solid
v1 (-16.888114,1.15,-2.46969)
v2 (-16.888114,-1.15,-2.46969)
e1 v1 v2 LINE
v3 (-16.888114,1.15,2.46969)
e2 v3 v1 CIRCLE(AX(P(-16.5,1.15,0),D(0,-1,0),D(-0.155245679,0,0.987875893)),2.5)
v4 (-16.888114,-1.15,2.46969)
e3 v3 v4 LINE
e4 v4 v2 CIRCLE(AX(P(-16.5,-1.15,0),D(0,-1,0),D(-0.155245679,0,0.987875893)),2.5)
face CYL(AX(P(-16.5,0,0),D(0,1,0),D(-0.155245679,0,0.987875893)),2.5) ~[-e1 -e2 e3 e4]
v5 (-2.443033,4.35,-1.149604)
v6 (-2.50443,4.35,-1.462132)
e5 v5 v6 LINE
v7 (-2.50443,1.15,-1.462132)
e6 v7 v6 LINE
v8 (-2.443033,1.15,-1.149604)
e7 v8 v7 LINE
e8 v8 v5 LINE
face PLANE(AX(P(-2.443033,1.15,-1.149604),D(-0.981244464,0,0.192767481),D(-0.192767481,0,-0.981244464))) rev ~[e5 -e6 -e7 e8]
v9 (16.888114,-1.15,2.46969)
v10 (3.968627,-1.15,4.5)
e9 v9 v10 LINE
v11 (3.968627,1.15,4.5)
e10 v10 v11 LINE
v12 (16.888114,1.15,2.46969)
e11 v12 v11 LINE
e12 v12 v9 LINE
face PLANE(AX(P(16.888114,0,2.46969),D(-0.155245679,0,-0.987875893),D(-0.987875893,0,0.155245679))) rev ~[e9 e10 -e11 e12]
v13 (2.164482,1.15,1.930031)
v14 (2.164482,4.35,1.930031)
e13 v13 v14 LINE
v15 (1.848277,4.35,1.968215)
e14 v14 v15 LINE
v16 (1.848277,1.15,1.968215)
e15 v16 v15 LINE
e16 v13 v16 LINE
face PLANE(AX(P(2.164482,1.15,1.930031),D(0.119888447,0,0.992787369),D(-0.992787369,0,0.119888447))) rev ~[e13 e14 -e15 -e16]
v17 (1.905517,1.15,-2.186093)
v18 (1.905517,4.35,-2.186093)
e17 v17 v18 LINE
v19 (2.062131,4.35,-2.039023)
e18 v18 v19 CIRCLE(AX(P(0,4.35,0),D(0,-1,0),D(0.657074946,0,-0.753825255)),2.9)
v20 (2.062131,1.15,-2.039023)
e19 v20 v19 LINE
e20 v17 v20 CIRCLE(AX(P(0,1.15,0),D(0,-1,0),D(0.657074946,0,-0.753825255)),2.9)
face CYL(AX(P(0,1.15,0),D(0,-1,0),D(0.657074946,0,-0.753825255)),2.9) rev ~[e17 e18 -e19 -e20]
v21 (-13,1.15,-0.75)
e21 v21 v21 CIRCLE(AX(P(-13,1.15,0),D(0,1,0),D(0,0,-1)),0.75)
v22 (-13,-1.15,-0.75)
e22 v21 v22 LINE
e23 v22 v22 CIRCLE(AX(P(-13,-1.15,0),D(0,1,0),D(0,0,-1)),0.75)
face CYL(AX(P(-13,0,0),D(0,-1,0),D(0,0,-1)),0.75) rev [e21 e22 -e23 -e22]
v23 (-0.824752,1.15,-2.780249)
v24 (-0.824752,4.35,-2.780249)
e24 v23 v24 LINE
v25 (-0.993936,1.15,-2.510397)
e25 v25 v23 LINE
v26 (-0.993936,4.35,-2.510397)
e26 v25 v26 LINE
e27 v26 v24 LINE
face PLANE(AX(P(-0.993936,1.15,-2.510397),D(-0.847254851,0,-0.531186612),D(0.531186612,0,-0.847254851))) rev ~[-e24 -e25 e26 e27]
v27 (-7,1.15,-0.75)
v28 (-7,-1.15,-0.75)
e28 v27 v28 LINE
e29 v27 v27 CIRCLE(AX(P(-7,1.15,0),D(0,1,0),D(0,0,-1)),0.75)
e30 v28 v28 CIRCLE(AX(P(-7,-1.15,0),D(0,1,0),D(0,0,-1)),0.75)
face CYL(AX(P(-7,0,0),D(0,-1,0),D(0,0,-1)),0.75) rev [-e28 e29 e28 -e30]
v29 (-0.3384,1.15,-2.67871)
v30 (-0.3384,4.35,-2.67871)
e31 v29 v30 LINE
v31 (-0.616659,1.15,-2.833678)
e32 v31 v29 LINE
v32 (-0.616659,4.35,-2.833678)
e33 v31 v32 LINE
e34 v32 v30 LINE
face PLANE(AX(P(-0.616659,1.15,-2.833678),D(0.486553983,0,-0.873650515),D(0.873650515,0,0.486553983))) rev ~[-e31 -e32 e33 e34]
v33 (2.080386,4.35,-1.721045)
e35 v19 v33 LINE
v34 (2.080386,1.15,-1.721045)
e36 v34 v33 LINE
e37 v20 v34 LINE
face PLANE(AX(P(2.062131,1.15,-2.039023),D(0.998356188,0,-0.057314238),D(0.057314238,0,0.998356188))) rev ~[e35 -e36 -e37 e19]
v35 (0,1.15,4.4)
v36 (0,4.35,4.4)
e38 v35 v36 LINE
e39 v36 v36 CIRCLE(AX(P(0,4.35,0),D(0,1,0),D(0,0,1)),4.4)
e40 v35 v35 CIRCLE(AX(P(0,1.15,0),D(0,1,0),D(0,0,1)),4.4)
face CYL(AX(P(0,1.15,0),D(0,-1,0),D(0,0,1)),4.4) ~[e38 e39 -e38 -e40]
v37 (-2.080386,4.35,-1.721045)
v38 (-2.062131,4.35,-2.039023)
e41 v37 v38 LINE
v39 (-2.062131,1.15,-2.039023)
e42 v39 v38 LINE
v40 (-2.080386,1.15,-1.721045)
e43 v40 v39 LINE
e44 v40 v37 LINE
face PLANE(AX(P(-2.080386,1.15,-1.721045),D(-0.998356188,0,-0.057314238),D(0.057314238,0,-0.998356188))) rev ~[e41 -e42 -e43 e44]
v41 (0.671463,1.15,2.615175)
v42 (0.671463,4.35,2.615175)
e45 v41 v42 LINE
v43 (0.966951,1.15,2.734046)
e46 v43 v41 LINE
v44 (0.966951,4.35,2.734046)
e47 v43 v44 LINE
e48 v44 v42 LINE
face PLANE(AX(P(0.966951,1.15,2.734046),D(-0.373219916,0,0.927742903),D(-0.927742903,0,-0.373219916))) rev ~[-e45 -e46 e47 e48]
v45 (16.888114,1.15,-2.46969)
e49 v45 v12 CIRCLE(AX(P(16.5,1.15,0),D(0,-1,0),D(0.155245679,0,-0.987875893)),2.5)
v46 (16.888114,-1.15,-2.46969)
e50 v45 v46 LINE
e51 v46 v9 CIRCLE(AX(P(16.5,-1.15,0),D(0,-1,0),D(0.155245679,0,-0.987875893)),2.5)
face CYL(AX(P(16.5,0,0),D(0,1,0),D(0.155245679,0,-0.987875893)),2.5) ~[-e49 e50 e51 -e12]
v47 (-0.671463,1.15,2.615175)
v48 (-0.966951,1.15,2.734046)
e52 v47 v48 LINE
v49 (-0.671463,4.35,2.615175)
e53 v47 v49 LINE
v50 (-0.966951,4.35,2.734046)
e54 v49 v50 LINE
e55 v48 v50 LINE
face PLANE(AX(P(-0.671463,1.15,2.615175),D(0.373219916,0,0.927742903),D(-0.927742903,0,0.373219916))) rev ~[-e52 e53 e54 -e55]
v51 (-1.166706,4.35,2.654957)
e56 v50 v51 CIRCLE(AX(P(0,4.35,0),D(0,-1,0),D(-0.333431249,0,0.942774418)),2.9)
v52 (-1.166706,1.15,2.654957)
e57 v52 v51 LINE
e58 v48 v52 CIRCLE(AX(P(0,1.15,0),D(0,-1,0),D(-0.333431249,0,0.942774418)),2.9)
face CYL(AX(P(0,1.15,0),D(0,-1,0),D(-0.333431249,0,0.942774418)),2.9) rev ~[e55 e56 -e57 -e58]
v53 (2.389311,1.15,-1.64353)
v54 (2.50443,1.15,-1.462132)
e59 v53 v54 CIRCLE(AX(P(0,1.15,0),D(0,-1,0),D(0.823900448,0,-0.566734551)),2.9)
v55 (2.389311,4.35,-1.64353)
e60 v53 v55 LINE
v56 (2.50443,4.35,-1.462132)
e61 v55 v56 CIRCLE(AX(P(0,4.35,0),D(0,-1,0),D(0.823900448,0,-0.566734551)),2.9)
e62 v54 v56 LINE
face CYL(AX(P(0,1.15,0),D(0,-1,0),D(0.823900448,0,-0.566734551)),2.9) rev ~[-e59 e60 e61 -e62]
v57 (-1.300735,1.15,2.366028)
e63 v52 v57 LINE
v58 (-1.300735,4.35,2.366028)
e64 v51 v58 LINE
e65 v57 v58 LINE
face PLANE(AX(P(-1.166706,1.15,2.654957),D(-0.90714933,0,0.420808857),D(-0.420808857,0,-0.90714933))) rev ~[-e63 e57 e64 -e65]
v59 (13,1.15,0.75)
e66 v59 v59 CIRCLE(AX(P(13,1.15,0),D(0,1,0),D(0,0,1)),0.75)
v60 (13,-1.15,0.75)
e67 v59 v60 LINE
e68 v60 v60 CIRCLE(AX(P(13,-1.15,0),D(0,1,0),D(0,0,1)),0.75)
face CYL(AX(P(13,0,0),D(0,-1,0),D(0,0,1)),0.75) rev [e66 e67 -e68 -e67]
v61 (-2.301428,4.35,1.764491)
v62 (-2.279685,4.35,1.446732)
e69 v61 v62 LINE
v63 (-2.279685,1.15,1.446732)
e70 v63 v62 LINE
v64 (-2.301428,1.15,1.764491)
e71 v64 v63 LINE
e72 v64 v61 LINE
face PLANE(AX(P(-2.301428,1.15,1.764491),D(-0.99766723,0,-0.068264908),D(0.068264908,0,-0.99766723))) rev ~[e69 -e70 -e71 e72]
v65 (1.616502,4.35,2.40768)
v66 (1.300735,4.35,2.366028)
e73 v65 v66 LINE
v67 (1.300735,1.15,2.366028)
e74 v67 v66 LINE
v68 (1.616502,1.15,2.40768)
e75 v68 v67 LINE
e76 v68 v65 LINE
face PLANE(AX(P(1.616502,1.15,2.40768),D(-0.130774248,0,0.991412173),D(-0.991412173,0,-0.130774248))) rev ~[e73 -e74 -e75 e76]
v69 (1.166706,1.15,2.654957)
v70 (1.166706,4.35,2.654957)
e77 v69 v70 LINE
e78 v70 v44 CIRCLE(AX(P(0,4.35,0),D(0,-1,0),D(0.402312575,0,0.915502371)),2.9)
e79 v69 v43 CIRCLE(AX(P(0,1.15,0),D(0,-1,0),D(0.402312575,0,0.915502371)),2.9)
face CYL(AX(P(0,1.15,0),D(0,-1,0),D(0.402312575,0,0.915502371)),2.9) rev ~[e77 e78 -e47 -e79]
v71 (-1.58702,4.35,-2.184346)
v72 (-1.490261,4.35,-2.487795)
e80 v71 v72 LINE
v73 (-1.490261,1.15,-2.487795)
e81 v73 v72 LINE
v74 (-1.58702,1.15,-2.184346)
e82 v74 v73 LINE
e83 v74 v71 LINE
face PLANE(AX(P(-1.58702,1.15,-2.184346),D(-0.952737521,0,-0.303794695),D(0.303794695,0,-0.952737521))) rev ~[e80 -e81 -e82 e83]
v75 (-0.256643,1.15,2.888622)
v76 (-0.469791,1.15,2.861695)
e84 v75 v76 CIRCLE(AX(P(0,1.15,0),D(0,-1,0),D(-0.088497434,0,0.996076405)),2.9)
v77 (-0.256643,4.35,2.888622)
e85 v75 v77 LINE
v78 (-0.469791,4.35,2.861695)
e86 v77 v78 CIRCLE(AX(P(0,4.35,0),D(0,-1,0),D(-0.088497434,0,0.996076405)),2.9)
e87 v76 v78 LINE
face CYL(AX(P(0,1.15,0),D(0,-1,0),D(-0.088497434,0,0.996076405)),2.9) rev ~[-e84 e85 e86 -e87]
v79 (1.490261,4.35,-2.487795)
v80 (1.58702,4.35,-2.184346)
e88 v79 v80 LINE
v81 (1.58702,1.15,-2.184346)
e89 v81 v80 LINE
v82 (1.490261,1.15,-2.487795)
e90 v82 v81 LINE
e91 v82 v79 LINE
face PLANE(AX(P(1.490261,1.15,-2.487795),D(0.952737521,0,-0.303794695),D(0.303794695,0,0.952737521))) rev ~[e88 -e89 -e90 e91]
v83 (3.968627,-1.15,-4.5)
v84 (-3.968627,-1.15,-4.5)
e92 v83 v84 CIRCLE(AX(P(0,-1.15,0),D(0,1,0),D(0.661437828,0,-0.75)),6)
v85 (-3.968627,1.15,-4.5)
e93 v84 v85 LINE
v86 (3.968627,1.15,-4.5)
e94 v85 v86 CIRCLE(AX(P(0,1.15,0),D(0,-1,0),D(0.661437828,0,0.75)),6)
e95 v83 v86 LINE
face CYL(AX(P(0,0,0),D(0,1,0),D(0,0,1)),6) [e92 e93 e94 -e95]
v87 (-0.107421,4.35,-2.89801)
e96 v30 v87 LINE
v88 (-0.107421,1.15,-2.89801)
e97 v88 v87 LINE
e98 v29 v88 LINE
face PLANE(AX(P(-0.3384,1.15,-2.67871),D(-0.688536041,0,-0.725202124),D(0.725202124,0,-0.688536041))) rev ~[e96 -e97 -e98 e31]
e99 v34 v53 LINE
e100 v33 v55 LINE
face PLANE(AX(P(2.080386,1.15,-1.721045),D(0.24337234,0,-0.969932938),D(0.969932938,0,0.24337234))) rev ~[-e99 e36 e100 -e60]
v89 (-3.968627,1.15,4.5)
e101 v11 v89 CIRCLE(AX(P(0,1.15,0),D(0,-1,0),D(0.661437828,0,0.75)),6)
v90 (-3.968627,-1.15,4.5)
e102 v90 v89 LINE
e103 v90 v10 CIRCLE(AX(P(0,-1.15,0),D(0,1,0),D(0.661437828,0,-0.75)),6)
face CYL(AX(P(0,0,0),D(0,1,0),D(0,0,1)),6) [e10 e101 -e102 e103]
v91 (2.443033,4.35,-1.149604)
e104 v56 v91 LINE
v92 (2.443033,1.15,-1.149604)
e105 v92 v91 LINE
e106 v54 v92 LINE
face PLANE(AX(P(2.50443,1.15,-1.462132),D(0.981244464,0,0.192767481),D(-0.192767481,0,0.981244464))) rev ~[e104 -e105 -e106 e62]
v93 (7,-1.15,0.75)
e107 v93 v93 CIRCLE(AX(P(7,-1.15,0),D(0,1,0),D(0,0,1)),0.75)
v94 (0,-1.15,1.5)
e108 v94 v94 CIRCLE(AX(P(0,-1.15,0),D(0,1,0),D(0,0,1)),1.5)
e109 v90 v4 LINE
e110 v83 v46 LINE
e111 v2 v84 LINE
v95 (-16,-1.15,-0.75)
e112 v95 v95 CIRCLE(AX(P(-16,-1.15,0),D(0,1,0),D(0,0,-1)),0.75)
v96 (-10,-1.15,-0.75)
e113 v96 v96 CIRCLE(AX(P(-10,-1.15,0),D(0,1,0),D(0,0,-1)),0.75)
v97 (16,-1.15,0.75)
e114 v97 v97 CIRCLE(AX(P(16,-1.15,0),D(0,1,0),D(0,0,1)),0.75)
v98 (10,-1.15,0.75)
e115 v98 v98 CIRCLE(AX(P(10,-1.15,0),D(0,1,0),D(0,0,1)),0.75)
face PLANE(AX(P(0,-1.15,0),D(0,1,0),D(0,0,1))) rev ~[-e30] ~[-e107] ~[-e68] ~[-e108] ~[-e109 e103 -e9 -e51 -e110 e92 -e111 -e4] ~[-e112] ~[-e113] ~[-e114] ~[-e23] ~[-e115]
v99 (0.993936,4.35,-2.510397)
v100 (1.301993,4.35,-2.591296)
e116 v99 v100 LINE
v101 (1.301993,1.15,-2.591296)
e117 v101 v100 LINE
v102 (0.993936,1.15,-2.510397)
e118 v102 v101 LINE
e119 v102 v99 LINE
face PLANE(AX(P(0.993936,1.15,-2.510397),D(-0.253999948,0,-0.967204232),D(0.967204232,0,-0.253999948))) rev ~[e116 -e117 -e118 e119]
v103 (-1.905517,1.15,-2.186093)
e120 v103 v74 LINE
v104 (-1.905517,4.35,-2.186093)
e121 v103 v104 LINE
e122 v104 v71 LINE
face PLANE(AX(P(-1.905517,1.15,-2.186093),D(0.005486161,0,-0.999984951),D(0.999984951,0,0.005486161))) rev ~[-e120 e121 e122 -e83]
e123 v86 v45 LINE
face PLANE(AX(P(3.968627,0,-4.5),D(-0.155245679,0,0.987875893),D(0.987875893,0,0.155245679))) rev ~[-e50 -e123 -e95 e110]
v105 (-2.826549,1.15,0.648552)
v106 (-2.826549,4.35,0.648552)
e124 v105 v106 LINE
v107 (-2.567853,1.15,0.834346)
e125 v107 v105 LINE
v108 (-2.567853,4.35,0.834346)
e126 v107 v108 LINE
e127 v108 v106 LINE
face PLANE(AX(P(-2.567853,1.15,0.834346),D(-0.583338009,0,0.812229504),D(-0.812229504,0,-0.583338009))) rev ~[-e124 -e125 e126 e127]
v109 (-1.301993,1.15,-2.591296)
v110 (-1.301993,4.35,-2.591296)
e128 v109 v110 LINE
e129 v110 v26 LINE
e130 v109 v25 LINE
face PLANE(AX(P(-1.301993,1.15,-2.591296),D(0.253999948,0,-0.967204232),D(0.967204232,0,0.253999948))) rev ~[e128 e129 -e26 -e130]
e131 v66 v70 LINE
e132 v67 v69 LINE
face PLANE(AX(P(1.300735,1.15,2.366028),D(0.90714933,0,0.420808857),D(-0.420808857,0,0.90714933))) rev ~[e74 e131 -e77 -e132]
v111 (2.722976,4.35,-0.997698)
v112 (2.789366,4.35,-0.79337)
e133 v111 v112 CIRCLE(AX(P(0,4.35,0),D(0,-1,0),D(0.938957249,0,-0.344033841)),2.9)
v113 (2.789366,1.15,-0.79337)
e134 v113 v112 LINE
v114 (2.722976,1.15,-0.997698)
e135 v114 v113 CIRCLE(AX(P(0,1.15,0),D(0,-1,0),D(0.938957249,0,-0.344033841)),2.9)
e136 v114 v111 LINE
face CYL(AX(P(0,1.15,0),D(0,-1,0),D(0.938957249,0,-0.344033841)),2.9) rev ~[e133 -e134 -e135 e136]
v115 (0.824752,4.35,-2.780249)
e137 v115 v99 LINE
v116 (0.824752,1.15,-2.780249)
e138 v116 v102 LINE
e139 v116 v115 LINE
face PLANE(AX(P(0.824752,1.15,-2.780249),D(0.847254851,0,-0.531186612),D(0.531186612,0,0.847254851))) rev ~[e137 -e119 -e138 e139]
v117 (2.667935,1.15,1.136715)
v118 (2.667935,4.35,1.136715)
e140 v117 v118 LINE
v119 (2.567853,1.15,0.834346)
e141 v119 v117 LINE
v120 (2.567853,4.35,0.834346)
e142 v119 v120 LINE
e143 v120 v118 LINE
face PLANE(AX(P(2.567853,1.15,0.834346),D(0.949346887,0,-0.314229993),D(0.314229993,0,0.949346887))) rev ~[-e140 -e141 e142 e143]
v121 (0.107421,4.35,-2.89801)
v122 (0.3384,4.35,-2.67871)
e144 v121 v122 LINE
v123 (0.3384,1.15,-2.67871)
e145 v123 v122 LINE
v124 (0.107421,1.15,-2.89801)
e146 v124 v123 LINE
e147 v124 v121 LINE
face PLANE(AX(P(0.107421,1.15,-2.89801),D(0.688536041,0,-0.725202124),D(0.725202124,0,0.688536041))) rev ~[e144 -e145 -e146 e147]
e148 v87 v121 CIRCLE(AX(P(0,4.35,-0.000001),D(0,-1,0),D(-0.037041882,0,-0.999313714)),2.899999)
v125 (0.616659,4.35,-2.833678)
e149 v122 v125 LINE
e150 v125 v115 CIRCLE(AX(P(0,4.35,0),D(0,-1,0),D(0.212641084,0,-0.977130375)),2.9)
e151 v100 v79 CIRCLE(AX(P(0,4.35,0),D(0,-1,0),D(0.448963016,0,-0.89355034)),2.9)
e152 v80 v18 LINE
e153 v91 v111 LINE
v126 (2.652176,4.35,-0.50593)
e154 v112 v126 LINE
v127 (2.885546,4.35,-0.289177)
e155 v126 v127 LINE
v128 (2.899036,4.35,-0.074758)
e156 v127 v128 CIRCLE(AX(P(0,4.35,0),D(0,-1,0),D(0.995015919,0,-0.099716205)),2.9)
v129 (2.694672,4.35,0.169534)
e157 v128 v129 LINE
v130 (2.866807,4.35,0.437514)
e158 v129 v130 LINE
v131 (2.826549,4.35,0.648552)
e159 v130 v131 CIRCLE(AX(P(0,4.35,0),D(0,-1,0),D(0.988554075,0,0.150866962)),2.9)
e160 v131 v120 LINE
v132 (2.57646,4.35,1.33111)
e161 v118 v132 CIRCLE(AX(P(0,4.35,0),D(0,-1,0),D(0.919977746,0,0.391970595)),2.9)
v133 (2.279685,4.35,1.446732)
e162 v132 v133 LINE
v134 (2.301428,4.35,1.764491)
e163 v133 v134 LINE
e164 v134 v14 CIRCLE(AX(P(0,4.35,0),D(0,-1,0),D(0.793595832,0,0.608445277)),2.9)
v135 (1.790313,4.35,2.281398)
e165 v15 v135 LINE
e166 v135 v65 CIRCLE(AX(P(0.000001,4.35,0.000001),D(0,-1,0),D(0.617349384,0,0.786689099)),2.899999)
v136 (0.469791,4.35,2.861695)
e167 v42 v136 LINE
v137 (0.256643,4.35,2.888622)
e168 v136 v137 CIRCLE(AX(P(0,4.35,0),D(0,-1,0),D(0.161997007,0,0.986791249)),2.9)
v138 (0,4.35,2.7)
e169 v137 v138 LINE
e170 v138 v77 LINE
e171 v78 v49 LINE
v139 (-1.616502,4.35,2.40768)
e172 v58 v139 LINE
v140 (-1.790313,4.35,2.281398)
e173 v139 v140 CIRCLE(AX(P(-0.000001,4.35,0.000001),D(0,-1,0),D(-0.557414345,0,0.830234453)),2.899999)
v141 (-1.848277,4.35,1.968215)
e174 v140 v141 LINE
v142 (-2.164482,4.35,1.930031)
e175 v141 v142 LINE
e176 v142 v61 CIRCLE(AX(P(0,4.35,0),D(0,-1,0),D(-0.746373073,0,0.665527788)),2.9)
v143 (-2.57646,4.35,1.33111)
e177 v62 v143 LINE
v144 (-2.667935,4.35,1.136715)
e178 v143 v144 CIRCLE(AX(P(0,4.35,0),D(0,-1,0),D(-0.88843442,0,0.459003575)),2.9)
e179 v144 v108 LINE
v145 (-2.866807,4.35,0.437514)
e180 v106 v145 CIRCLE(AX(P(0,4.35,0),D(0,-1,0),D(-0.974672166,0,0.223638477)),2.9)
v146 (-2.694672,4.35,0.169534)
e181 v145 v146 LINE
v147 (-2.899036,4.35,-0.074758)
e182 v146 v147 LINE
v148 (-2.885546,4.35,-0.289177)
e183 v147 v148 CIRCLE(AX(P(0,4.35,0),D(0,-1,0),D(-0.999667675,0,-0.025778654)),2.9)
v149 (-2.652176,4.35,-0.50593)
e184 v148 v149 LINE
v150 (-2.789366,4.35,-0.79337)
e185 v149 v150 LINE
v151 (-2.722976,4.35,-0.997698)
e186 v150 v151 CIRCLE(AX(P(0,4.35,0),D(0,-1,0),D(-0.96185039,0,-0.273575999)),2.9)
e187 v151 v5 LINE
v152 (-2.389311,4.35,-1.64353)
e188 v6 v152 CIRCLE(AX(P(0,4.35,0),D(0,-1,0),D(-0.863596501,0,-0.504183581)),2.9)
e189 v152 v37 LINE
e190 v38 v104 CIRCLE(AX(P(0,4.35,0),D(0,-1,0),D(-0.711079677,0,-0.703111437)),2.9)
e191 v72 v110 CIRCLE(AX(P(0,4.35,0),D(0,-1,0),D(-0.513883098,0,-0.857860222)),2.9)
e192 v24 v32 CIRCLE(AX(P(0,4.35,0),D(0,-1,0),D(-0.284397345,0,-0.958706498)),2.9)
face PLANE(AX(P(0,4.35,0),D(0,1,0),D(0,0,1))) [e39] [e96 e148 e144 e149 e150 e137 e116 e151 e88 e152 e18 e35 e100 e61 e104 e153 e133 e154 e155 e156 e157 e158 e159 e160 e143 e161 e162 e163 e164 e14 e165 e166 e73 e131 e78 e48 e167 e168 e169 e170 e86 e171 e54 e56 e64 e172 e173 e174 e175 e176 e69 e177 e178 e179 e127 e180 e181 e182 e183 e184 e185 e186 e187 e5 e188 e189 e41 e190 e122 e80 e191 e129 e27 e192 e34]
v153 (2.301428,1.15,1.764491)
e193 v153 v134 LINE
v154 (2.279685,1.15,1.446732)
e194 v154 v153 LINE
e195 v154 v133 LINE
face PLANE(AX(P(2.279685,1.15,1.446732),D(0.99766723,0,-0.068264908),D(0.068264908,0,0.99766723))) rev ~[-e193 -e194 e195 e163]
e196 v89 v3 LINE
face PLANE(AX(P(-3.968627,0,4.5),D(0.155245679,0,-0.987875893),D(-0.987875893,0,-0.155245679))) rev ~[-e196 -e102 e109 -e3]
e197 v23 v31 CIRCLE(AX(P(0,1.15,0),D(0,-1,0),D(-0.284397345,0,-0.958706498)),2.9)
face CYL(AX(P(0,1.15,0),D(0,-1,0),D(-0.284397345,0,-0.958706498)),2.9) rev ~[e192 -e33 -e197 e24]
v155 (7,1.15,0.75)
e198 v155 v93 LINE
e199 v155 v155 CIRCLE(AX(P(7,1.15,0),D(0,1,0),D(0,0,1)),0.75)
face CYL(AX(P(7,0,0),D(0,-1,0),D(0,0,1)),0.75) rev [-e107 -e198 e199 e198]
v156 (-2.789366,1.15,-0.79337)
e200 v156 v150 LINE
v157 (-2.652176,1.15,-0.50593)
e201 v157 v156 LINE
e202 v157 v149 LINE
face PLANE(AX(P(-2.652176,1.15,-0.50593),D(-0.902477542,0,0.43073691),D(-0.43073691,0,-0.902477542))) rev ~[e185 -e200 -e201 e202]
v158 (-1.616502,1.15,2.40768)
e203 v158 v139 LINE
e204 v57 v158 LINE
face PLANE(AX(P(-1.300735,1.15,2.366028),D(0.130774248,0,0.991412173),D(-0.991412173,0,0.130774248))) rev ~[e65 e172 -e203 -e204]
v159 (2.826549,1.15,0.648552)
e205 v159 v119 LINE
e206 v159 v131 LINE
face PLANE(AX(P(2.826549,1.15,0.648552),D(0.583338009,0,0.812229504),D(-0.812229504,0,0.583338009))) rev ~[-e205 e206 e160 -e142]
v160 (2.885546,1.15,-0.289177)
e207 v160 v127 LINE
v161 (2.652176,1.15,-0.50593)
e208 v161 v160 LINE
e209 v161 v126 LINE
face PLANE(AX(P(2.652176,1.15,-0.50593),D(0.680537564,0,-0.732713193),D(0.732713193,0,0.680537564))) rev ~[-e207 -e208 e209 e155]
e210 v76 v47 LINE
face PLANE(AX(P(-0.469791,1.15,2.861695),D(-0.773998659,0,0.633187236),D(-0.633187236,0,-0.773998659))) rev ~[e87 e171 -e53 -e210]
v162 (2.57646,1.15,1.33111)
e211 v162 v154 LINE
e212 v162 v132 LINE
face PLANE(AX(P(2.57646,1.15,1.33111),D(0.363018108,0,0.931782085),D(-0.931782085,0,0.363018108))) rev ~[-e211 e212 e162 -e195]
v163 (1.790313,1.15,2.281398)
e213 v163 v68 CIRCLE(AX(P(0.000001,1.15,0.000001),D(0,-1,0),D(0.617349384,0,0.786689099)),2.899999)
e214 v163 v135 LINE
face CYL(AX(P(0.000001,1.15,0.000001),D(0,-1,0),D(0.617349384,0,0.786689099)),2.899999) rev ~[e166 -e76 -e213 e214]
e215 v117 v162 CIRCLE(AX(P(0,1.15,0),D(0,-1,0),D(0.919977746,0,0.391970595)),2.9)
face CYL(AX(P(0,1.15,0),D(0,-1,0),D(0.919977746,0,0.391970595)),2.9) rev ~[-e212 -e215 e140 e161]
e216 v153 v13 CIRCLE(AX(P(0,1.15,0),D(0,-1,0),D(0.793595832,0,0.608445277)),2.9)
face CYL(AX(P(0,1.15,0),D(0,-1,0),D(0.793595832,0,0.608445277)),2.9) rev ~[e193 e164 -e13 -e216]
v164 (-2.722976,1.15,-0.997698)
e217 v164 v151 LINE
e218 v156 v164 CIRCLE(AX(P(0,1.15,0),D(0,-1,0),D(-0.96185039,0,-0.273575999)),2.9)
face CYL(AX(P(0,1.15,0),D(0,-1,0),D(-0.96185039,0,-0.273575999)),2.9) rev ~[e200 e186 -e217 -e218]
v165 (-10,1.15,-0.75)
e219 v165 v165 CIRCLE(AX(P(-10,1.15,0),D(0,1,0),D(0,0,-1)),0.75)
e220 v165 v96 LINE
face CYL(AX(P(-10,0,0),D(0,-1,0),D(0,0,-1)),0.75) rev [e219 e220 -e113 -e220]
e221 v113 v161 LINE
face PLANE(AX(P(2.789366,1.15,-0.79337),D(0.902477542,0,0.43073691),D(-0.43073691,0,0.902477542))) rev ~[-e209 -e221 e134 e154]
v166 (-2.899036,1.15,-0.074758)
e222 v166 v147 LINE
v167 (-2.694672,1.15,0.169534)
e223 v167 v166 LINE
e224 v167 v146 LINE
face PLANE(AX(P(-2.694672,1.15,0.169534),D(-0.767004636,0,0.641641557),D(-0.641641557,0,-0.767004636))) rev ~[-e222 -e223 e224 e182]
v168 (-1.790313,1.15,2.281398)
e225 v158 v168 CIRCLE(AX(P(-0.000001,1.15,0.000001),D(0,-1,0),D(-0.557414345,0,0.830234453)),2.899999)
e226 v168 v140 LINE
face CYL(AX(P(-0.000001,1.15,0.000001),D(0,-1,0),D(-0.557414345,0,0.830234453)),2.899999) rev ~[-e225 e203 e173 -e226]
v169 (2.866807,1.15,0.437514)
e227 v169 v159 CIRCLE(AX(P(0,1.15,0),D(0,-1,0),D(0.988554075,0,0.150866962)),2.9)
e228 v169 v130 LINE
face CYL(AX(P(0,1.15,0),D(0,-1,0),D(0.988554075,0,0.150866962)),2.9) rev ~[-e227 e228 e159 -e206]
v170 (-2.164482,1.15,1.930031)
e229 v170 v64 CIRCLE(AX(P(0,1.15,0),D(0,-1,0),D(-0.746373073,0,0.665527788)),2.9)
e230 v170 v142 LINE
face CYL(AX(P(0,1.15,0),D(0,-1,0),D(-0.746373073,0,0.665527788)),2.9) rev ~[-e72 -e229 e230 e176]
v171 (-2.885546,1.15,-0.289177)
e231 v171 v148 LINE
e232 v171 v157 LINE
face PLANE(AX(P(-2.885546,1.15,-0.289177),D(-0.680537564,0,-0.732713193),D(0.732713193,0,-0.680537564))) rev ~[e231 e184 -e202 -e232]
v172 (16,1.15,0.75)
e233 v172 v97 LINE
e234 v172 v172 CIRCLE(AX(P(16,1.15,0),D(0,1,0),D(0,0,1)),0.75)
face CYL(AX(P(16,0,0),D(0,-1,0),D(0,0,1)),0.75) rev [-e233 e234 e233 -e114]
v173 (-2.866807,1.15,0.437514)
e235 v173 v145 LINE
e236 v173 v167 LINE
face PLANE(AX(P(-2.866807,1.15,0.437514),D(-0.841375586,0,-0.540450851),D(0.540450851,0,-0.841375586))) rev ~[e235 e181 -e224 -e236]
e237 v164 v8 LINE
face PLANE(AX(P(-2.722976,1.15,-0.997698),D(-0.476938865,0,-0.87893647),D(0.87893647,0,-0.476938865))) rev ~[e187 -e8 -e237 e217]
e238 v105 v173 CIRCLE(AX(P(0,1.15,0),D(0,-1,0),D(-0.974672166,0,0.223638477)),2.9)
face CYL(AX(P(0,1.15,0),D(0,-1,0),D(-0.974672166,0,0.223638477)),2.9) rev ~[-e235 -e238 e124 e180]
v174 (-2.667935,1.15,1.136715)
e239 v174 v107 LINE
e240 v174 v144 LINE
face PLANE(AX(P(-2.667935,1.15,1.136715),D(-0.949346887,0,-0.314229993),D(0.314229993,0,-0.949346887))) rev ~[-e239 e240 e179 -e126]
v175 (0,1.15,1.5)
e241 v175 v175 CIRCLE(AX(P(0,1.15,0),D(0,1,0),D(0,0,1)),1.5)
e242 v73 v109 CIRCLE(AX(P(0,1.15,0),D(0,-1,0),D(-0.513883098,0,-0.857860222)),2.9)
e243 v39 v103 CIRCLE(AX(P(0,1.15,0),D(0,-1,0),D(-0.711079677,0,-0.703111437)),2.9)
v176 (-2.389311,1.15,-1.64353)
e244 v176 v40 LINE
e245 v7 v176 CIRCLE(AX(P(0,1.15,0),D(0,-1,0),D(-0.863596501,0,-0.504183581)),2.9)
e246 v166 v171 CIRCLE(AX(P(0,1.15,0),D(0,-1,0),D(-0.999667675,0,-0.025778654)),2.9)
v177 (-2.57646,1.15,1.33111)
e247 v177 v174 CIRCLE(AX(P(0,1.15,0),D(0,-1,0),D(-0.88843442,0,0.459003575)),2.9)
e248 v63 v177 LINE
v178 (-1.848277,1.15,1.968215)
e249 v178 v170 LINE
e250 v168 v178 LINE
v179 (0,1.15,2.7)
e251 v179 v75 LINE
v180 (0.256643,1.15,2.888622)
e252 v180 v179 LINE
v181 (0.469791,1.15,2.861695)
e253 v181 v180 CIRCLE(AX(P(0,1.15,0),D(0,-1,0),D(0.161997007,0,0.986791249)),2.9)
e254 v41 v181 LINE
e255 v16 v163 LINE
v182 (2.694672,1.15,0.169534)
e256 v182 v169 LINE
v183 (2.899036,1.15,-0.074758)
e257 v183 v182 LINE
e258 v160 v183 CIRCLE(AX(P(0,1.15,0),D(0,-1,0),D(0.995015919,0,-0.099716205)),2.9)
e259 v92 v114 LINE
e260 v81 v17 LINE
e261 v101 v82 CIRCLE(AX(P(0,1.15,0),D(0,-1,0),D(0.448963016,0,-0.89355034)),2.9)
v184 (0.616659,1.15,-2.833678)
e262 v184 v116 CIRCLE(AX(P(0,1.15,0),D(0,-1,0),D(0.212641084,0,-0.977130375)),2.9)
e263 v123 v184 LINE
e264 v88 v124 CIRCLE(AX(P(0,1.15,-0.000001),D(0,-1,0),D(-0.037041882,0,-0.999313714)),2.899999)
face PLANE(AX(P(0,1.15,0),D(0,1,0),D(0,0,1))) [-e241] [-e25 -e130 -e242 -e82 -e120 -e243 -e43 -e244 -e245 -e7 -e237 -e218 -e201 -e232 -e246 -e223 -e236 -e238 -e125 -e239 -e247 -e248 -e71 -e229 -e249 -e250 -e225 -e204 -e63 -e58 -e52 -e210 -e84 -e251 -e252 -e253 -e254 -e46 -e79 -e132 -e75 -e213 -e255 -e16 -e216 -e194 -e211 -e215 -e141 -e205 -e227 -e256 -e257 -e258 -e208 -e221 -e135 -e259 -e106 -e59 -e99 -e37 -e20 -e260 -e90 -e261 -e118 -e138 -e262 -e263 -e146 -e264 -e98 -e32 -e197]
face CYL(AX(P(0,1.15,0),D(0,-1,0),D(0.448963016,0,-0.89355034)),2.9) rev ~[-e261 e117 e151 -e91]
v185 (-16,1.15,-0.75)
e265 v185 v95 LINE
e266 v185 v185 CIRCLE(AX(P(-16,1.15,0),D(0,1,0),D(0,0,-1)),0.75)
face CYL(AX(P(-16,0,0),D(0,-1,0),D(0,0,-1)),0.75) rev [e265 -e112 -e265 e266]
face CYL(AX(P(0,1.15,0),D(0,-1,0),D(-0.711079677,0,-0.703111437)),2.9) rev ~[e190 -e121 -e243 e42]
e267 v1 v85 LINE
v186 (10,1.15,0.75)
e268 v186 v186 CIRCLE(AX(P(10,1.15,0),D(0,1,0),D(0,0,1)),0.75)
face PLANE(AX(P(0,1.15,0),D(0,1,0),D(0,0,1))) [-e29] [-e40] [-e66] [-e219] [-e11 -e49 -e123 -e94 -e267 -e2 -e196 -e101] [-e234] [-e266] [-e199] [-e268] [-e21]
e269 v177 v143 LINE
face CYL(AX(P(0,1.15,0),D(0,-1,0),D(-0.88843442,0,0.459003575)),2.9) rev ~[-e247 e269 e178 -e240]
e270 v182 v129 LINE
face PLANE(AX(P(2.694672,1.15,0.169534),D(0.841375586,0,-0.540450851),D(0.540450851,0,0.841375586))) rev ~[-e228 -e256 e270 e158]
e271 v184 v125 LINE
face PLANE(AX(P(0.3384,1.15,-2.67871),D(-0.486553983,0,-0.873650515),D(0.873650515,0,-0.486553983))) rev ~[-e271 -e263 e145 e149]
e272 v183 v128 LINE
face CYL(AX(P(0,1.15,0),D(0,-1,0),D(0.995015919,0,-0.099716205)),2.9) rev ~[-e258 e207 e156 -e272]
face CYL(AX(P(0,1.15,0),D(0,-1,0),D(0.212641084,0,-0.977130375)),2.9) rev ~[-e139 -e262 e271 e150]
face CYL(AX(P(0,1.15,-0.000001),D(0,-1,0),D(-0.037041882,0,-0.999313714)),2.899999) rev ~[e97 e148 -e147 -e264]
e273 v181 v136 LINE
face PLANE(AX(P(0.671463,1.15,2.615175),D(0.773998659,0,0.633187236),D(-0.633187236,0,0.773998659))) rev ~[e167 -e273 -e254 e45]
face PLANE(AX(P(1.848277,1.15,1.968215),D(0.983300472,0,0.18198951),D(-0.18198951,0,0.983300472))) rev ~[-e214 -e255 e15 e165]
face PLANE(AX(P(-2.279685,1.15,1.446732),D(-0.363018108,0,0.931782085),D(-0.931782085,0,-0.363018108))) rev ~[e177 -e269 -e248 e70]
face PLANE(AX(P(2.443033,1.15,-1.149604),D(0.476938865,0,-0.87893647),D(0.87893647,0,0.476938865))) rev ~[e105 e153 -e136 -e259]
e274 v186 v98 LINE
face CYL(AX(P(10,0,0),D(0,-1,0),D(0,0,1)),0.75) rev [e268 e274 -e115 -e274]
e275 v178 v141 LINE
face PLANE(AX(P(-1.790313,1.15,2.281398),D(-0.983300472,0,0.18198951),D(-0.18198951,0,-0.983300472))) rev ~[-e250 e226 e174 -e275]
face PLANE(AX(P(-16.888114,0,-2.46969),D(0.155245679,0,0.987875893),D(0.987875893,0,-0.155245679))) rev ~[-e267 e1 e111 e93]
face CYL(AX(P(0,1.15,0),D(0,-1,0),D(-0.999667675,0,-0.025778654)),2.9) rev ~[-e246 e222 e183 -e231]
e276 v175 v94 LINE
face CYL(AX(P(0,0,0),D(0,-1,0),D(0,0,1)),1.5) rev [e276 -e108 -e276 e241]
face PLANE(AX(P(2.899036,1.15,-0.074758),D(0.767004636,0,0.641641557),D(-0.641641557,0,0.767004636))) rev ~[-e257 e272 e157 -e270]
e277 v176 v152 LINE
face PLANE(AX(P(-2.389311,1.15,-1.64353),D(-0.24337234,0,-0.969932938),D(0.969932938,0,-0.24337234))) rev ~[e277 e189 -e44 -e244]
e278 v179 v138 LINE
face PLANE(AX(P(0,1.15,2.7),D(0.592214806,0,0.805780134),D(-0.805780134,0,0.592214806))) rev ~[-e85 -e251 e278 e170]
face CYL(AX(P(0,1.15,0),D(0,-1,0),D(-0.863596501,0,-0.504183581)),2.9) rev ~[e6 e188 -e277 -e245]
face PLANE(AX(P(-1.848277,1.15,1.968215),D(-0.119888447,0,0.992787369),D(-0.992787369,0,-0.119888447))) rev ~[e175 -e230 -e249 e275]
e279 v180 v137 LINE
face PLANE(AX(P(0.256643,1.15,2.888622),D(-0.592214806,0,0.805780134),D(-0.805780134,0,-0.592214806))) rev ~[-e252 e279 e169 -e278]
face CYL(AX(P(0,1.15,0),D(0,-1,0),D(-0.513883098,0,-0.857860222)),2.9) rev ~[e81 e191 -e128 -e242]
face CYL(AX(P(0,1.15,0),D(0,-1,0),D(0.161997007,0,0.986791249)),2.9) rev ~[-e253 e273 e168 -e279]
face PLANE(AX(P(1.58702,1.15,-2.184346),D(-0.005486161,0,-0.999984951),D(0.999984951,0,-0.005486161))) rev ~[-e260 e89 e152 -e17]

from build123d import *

# Parameters (mm, degrees)
SKETCH2_R           = 6
SKETCH2_R_2         = 1.5
BOSS_EXTRUDE1_DEPTH = 1.15
SKETCH3_R           = 4.4
BOSS_EXTRUDE2_DEPTH = 3.2
SKETCH4_R           = 0.75
BOSS_EXTRUDE3_DEPTH = 1.15
CIRPATTERN1_COUNT   = 2


with BuildPart() as part:
    # Sketch2 → Boss-Extrude1 (new, symmetric)
    with BuildSketch(Plane(origin=(0, 0, 0), x_dir=(1, 0, 0), z_dir=(0, 1, 0))):
        with Locations(Location((0, 0, 0), (0, 0, 270))):
            Circle(SKETCH2_R)
        with Locations(Location((0, 0, 0), (0, 0, 270))):
            Circle(SKETCH2_R_2, mode=Mode.SUBTRACT)
    extrude(amount=BOSS_EXTRUDE1_DEPTH, both=True)

    # Sketch3 → Boss-Extrude2 (add)
    with BuildSketch(Plane(origin=(0, 1.15, 0), x_dir=(1, 0, 0), z_dir=(0, 1, 0))):
        with Locations(Location((0, 0, 0), (0, 0, 270))):
            Circle(SKETCH3_R)
        with BuildLine():
            Line((0.107421435, 2.898009771), (0.338399731, 2.678709694))
            Line((0.338399731, 2.678709694), (0.61665913, 2.83367809))
            ThreePointArc((0.61665913, 2.83367809), (0.721200673, 2.808891167), (0.824752316, 2.780248841))
            Line((0.824752316, 2.780248841), (0.993936292, 2.510396512))
            Line((0.993936292, 2.510396512), (1.301992734, 2.591295993))
            ThreePointArc((1.301992734, 2.591295993), (1.397085655, 2.541289372), (1.490260976, 2.48779465))
            Line((1.490260976, 2.48779465), (1.587020181, 2.184345885))
            Line((1.587020181, 2.184345885), (1.905517346, 2.186093238))
            ThreePointArc((1.905517346, 2.186093238), (1.985186607, 2.11400902), (2.062131058, 2.039023173))
            Line((2.062131058, 2.039023173), (2.080385755, 1.721044772))
            Line((2.080385755, 1.721044772), (2.389311295, 1.643530205))
            ThreePointArc((2.389311295, 1.643530205), (2.448550984, 1.553897705), (2.504429862, 1.46213237))
            Line((2.504429862, 1.46213237), (2.443033042, 1.149604087))
            Line((2.443033042, 1.149604087), (2.722976028, 0.997698125))
            ThreePointArc((2.722976028, 0.997698125), (2.758063897, 0.896149284), (2.789366126, 0.793370413))
            Line((2.789366126, 0.793370413), (2.652175577, 0.505929549))
            Line((2.652175577, 0.505929549), (2.885546163, 0.289177003))
            ThreePointArc((2.885546163, 0.289177003), (2.894277512, 0.182092507), (2.899036259, 0.074758075))
            Line((2.899036259, 0.074758075), (2.694672167, -0.169534403))
            Line((2.694672167, -0.169534403), (2.866806821, -0.437514174))
            ThreePointArc((2.866806821, -0.437514174), (2.848633027, -0.543405812), (2.826549281, -0.648551587))
            Line((2.826549281, -0.648551587), (2.567852594, -0.834345885))
            Line((2.567852594, -0.834345885), (2.667935462, -1.136714727))
            ThreePointArc((2.667935462, -1.136714727), (2.623998452, -1.234759946), (2.576459817, -1.331110368))
            Line((2.576459817, -1.331110368), (2.279685399, -1.446732346))
            Line((2.279685399, -1.446732346), (2.301427906, -1.764491312))
            ThreePointArc((2.301427906, -1.764491312), (2.234488404, -1.84852957), (2.164481907, -1.930030589))
            Line((2.164481907, -1.930030589), (1.848277186, -1.968215294))
            Line((1.848277186, -1.968215294), (1.790313171, -2.281398419))
            ThreePointArc((1.790313171, -2.281398419), (1.704577232, -2.346149284), (1.616501638, -2.40767989))
            Line((1.616501638, -2.40767989), (1.30073492, -2.366028036))
            Line((1.30073492, -2.366028036), (1.166706475, -2.654956874))
            ThreePointArc((1.166706475, -2.654956874), (1.067561203, -2.696351809), (0.966950626, -2.734045809))
            Line((0.966950626, -2.734045809), (0.671462695, -2.615174535))
            Line((0.671462695, -2.615174535), (0.469791321, -2.861694623))
            ThreePointArc((0.469791321, -2.861694623), (0.363466377, -2.877132634), (0.25664255, -2.888621575))
            Line((0.25664255, -2.888621575), (0, -2.7))
            Line((0, -2.7), (-0.25664255, -2.888621575))
            ThreePointArc((-0.25664255, -2.888621575), (-0.363466377, -2.877132634), (-0.469791321, -2.861694623))
            Line((-0.469791321, -2.861694623), (-0.671462695, -2.615174535))
            Line((-0.671462695, -2.615174535), (-0.966950626, -2.734045809))
            ThreePointArc((-0.966950626, -2.734045809), (-1.067561203, -2.696351809), (-1.166706475, -2.654956874))
            Line((-1.166706475, -2.654956874), (-1.30073492, -2.366028036))
            Line((-1.30073492, -2.366028036), (-1.616501638, -2.40767989))
            ThreePointArc((-1.616501638, -2.40767989), (-1.704577232, -2.346149284), (-1.790313171, -2.281398419))
            Line((-1.790313171, -2.281398419), (-1.848277186, -1.968215294))
            Line((-1.848277186, -1.968215294), (-2.164481907, -1.930030589))
            ThreePointArc((-2.164481907, -1.930030589), (-2.234488404, -1.84852957), (-2.301427906, -1.764491312))
            Line((-2.301427906, -1.764491312), (-2.279685399, -1.446732346))
            Line((-2.279685399, -1.446732346), (-2.576459817, -1.331110368))
            ThreePointArc((-2.576459817, -1.331110368), (-2.623998452, -1.234759946), (-2.667935462, -1.136714727))
            Line((-2.667935462, -1.136714727), (-2.567852594, -0.834345885))
            Line((-2.567852594, -0.834345885), (-2.826549281, -0.648551587))
            ThreePointArc((-2.826549281, -0.648551587), (-2.848633027, -0.543405812), (-2.866806821, -0.437514174))
            Line((-2.866806821, -0.437514174), (-2.694672167, -0.169534403))
            Line((-2.694672167, -0.169534403), (-2.899036259, 0.074758075))
            ThreePointArc((-2.899036259, 0.074758075), (-2.894277512, 0.182092507), (-2.885546163, 0.289177003))
            Line((-2.885546163, 0.289177003), (-2.652175577, 0.505929549))
            Line((-2.652175577, 0.505929549), (-2.789366126, 0.793370413))
            ThreePointArc((-2.789366126, 0.793370413), (-2.758063897, 0.896149284), (-2.722976028, 0.997698125))
            Line((-2.722976028, 0.997698125), (-2.443033042, 1.149604087))
            Line((-2.443033042, 1.149604087), (-2.504429862, 1.46213237))
            ThreePointArc((-2.504429862, 1.46213237), (-2.448550984, 1.553897705), (-2.389311295, 1.643530205))
            Line((-2.389311295, 1.643530205), (-2.080385755, 1.721044772))
            Line((-2.080385755, 1.721044772), (-2.062131058, 2.039023173))
            ThreePointArc((-2.062131058, 2.039023173), (-1.985186607, 2.11400902), (-1.905517346, 2.186093238))
            Line((-1.905517346, 2.186093238), (-1.587020181, 2.184345885))
            Line((-1.587020181, 2.184345885), (-1.490260976, 2.48779465))
            ThreePointArc((-1.490260976, 2.48779465), (-1.397085655, 2.541289372), (-1.301992734, 2.591295993))
            Line((-1.301992734, 2.591295993), (-0.993936292, 2.510396512))
            Line((-0.993936292, 2.510396512), (-0.824752316, 2.780248841))
            ThreePointArc((-0.824752316, 2.780248841), (-0.721200673, 2.808891167), (-0.61665913, 2.83367809))
            Line((-0.61665913, 2.83367809), (-0.338399731, 2.678709694))
            Line((-0.338399731, 2.678709694), (-0.107421435, 2.898009771))
            ThreePointArc((-0.107421435, 2.898009771), (0, 2.9), (0.107421435, 2.898009771))
        make_face(mode=Mode.SUBTRACT)
    extrude(amount=BOSS_EXTRUDE2_DEPTH)

    # Sketch4 → Boss-Extrude3 (add, symmetric)
    with BuildSketch(Plane(origin=(0, 0, 0), x_dir=(1, 0, 0), z_dir=(0, 1, 0))):
        with BuildLine():
            Line((3.968626967, 4.5), (16.888114198, 2.469689731))
            ThreePointArc((16.888114198, 2.469689731), (19, 0), (16.888114198, -2.469689731))
            Line((16.888114198, -2.469689731), (3.968626967, -4.5))
            ThreePointArc((3.968626967, -4.5), (6, 0), (3.968626967, 4.5))
        make_face()
        with Locations(Location((16, 0, 0), (0, 0, 270))):
            Circle(SKETCH4_R, mode=Mode.SUBTRACT)
        with Locations(Location((13, 0, 0), (0, 0, 270))):
            Circle(SKETCH4_R, mode=Mode.SUBTRACT)
        with Locations(Location((10, 0, 0), (0, 0, 270))):
            Circle(SKETCH4_R, mode=Mode.SUBTRACT)
        with Locations(Location((7, 0, 0), (0, 0, 270))):
            Circle(SKETCH4_R, mode=Mode.SUBTRACT)
    boss_extrude3 = extrude(amount=BOSS_EXTRUDE3_DEPTH, both=True)

    # CirPattern1: Boss-Extrude3 ×2 about axis
    cirpattern1_axis = Axis((0, 0, 0), (0, 1, 0))
    for i in range(1, CIRPATTERN1_COUNT):
        add(boss_extrude3.rotate(cirpattern1_axis, i * 360 / CIRPATTERN1_COUNT))


solid = part.part
